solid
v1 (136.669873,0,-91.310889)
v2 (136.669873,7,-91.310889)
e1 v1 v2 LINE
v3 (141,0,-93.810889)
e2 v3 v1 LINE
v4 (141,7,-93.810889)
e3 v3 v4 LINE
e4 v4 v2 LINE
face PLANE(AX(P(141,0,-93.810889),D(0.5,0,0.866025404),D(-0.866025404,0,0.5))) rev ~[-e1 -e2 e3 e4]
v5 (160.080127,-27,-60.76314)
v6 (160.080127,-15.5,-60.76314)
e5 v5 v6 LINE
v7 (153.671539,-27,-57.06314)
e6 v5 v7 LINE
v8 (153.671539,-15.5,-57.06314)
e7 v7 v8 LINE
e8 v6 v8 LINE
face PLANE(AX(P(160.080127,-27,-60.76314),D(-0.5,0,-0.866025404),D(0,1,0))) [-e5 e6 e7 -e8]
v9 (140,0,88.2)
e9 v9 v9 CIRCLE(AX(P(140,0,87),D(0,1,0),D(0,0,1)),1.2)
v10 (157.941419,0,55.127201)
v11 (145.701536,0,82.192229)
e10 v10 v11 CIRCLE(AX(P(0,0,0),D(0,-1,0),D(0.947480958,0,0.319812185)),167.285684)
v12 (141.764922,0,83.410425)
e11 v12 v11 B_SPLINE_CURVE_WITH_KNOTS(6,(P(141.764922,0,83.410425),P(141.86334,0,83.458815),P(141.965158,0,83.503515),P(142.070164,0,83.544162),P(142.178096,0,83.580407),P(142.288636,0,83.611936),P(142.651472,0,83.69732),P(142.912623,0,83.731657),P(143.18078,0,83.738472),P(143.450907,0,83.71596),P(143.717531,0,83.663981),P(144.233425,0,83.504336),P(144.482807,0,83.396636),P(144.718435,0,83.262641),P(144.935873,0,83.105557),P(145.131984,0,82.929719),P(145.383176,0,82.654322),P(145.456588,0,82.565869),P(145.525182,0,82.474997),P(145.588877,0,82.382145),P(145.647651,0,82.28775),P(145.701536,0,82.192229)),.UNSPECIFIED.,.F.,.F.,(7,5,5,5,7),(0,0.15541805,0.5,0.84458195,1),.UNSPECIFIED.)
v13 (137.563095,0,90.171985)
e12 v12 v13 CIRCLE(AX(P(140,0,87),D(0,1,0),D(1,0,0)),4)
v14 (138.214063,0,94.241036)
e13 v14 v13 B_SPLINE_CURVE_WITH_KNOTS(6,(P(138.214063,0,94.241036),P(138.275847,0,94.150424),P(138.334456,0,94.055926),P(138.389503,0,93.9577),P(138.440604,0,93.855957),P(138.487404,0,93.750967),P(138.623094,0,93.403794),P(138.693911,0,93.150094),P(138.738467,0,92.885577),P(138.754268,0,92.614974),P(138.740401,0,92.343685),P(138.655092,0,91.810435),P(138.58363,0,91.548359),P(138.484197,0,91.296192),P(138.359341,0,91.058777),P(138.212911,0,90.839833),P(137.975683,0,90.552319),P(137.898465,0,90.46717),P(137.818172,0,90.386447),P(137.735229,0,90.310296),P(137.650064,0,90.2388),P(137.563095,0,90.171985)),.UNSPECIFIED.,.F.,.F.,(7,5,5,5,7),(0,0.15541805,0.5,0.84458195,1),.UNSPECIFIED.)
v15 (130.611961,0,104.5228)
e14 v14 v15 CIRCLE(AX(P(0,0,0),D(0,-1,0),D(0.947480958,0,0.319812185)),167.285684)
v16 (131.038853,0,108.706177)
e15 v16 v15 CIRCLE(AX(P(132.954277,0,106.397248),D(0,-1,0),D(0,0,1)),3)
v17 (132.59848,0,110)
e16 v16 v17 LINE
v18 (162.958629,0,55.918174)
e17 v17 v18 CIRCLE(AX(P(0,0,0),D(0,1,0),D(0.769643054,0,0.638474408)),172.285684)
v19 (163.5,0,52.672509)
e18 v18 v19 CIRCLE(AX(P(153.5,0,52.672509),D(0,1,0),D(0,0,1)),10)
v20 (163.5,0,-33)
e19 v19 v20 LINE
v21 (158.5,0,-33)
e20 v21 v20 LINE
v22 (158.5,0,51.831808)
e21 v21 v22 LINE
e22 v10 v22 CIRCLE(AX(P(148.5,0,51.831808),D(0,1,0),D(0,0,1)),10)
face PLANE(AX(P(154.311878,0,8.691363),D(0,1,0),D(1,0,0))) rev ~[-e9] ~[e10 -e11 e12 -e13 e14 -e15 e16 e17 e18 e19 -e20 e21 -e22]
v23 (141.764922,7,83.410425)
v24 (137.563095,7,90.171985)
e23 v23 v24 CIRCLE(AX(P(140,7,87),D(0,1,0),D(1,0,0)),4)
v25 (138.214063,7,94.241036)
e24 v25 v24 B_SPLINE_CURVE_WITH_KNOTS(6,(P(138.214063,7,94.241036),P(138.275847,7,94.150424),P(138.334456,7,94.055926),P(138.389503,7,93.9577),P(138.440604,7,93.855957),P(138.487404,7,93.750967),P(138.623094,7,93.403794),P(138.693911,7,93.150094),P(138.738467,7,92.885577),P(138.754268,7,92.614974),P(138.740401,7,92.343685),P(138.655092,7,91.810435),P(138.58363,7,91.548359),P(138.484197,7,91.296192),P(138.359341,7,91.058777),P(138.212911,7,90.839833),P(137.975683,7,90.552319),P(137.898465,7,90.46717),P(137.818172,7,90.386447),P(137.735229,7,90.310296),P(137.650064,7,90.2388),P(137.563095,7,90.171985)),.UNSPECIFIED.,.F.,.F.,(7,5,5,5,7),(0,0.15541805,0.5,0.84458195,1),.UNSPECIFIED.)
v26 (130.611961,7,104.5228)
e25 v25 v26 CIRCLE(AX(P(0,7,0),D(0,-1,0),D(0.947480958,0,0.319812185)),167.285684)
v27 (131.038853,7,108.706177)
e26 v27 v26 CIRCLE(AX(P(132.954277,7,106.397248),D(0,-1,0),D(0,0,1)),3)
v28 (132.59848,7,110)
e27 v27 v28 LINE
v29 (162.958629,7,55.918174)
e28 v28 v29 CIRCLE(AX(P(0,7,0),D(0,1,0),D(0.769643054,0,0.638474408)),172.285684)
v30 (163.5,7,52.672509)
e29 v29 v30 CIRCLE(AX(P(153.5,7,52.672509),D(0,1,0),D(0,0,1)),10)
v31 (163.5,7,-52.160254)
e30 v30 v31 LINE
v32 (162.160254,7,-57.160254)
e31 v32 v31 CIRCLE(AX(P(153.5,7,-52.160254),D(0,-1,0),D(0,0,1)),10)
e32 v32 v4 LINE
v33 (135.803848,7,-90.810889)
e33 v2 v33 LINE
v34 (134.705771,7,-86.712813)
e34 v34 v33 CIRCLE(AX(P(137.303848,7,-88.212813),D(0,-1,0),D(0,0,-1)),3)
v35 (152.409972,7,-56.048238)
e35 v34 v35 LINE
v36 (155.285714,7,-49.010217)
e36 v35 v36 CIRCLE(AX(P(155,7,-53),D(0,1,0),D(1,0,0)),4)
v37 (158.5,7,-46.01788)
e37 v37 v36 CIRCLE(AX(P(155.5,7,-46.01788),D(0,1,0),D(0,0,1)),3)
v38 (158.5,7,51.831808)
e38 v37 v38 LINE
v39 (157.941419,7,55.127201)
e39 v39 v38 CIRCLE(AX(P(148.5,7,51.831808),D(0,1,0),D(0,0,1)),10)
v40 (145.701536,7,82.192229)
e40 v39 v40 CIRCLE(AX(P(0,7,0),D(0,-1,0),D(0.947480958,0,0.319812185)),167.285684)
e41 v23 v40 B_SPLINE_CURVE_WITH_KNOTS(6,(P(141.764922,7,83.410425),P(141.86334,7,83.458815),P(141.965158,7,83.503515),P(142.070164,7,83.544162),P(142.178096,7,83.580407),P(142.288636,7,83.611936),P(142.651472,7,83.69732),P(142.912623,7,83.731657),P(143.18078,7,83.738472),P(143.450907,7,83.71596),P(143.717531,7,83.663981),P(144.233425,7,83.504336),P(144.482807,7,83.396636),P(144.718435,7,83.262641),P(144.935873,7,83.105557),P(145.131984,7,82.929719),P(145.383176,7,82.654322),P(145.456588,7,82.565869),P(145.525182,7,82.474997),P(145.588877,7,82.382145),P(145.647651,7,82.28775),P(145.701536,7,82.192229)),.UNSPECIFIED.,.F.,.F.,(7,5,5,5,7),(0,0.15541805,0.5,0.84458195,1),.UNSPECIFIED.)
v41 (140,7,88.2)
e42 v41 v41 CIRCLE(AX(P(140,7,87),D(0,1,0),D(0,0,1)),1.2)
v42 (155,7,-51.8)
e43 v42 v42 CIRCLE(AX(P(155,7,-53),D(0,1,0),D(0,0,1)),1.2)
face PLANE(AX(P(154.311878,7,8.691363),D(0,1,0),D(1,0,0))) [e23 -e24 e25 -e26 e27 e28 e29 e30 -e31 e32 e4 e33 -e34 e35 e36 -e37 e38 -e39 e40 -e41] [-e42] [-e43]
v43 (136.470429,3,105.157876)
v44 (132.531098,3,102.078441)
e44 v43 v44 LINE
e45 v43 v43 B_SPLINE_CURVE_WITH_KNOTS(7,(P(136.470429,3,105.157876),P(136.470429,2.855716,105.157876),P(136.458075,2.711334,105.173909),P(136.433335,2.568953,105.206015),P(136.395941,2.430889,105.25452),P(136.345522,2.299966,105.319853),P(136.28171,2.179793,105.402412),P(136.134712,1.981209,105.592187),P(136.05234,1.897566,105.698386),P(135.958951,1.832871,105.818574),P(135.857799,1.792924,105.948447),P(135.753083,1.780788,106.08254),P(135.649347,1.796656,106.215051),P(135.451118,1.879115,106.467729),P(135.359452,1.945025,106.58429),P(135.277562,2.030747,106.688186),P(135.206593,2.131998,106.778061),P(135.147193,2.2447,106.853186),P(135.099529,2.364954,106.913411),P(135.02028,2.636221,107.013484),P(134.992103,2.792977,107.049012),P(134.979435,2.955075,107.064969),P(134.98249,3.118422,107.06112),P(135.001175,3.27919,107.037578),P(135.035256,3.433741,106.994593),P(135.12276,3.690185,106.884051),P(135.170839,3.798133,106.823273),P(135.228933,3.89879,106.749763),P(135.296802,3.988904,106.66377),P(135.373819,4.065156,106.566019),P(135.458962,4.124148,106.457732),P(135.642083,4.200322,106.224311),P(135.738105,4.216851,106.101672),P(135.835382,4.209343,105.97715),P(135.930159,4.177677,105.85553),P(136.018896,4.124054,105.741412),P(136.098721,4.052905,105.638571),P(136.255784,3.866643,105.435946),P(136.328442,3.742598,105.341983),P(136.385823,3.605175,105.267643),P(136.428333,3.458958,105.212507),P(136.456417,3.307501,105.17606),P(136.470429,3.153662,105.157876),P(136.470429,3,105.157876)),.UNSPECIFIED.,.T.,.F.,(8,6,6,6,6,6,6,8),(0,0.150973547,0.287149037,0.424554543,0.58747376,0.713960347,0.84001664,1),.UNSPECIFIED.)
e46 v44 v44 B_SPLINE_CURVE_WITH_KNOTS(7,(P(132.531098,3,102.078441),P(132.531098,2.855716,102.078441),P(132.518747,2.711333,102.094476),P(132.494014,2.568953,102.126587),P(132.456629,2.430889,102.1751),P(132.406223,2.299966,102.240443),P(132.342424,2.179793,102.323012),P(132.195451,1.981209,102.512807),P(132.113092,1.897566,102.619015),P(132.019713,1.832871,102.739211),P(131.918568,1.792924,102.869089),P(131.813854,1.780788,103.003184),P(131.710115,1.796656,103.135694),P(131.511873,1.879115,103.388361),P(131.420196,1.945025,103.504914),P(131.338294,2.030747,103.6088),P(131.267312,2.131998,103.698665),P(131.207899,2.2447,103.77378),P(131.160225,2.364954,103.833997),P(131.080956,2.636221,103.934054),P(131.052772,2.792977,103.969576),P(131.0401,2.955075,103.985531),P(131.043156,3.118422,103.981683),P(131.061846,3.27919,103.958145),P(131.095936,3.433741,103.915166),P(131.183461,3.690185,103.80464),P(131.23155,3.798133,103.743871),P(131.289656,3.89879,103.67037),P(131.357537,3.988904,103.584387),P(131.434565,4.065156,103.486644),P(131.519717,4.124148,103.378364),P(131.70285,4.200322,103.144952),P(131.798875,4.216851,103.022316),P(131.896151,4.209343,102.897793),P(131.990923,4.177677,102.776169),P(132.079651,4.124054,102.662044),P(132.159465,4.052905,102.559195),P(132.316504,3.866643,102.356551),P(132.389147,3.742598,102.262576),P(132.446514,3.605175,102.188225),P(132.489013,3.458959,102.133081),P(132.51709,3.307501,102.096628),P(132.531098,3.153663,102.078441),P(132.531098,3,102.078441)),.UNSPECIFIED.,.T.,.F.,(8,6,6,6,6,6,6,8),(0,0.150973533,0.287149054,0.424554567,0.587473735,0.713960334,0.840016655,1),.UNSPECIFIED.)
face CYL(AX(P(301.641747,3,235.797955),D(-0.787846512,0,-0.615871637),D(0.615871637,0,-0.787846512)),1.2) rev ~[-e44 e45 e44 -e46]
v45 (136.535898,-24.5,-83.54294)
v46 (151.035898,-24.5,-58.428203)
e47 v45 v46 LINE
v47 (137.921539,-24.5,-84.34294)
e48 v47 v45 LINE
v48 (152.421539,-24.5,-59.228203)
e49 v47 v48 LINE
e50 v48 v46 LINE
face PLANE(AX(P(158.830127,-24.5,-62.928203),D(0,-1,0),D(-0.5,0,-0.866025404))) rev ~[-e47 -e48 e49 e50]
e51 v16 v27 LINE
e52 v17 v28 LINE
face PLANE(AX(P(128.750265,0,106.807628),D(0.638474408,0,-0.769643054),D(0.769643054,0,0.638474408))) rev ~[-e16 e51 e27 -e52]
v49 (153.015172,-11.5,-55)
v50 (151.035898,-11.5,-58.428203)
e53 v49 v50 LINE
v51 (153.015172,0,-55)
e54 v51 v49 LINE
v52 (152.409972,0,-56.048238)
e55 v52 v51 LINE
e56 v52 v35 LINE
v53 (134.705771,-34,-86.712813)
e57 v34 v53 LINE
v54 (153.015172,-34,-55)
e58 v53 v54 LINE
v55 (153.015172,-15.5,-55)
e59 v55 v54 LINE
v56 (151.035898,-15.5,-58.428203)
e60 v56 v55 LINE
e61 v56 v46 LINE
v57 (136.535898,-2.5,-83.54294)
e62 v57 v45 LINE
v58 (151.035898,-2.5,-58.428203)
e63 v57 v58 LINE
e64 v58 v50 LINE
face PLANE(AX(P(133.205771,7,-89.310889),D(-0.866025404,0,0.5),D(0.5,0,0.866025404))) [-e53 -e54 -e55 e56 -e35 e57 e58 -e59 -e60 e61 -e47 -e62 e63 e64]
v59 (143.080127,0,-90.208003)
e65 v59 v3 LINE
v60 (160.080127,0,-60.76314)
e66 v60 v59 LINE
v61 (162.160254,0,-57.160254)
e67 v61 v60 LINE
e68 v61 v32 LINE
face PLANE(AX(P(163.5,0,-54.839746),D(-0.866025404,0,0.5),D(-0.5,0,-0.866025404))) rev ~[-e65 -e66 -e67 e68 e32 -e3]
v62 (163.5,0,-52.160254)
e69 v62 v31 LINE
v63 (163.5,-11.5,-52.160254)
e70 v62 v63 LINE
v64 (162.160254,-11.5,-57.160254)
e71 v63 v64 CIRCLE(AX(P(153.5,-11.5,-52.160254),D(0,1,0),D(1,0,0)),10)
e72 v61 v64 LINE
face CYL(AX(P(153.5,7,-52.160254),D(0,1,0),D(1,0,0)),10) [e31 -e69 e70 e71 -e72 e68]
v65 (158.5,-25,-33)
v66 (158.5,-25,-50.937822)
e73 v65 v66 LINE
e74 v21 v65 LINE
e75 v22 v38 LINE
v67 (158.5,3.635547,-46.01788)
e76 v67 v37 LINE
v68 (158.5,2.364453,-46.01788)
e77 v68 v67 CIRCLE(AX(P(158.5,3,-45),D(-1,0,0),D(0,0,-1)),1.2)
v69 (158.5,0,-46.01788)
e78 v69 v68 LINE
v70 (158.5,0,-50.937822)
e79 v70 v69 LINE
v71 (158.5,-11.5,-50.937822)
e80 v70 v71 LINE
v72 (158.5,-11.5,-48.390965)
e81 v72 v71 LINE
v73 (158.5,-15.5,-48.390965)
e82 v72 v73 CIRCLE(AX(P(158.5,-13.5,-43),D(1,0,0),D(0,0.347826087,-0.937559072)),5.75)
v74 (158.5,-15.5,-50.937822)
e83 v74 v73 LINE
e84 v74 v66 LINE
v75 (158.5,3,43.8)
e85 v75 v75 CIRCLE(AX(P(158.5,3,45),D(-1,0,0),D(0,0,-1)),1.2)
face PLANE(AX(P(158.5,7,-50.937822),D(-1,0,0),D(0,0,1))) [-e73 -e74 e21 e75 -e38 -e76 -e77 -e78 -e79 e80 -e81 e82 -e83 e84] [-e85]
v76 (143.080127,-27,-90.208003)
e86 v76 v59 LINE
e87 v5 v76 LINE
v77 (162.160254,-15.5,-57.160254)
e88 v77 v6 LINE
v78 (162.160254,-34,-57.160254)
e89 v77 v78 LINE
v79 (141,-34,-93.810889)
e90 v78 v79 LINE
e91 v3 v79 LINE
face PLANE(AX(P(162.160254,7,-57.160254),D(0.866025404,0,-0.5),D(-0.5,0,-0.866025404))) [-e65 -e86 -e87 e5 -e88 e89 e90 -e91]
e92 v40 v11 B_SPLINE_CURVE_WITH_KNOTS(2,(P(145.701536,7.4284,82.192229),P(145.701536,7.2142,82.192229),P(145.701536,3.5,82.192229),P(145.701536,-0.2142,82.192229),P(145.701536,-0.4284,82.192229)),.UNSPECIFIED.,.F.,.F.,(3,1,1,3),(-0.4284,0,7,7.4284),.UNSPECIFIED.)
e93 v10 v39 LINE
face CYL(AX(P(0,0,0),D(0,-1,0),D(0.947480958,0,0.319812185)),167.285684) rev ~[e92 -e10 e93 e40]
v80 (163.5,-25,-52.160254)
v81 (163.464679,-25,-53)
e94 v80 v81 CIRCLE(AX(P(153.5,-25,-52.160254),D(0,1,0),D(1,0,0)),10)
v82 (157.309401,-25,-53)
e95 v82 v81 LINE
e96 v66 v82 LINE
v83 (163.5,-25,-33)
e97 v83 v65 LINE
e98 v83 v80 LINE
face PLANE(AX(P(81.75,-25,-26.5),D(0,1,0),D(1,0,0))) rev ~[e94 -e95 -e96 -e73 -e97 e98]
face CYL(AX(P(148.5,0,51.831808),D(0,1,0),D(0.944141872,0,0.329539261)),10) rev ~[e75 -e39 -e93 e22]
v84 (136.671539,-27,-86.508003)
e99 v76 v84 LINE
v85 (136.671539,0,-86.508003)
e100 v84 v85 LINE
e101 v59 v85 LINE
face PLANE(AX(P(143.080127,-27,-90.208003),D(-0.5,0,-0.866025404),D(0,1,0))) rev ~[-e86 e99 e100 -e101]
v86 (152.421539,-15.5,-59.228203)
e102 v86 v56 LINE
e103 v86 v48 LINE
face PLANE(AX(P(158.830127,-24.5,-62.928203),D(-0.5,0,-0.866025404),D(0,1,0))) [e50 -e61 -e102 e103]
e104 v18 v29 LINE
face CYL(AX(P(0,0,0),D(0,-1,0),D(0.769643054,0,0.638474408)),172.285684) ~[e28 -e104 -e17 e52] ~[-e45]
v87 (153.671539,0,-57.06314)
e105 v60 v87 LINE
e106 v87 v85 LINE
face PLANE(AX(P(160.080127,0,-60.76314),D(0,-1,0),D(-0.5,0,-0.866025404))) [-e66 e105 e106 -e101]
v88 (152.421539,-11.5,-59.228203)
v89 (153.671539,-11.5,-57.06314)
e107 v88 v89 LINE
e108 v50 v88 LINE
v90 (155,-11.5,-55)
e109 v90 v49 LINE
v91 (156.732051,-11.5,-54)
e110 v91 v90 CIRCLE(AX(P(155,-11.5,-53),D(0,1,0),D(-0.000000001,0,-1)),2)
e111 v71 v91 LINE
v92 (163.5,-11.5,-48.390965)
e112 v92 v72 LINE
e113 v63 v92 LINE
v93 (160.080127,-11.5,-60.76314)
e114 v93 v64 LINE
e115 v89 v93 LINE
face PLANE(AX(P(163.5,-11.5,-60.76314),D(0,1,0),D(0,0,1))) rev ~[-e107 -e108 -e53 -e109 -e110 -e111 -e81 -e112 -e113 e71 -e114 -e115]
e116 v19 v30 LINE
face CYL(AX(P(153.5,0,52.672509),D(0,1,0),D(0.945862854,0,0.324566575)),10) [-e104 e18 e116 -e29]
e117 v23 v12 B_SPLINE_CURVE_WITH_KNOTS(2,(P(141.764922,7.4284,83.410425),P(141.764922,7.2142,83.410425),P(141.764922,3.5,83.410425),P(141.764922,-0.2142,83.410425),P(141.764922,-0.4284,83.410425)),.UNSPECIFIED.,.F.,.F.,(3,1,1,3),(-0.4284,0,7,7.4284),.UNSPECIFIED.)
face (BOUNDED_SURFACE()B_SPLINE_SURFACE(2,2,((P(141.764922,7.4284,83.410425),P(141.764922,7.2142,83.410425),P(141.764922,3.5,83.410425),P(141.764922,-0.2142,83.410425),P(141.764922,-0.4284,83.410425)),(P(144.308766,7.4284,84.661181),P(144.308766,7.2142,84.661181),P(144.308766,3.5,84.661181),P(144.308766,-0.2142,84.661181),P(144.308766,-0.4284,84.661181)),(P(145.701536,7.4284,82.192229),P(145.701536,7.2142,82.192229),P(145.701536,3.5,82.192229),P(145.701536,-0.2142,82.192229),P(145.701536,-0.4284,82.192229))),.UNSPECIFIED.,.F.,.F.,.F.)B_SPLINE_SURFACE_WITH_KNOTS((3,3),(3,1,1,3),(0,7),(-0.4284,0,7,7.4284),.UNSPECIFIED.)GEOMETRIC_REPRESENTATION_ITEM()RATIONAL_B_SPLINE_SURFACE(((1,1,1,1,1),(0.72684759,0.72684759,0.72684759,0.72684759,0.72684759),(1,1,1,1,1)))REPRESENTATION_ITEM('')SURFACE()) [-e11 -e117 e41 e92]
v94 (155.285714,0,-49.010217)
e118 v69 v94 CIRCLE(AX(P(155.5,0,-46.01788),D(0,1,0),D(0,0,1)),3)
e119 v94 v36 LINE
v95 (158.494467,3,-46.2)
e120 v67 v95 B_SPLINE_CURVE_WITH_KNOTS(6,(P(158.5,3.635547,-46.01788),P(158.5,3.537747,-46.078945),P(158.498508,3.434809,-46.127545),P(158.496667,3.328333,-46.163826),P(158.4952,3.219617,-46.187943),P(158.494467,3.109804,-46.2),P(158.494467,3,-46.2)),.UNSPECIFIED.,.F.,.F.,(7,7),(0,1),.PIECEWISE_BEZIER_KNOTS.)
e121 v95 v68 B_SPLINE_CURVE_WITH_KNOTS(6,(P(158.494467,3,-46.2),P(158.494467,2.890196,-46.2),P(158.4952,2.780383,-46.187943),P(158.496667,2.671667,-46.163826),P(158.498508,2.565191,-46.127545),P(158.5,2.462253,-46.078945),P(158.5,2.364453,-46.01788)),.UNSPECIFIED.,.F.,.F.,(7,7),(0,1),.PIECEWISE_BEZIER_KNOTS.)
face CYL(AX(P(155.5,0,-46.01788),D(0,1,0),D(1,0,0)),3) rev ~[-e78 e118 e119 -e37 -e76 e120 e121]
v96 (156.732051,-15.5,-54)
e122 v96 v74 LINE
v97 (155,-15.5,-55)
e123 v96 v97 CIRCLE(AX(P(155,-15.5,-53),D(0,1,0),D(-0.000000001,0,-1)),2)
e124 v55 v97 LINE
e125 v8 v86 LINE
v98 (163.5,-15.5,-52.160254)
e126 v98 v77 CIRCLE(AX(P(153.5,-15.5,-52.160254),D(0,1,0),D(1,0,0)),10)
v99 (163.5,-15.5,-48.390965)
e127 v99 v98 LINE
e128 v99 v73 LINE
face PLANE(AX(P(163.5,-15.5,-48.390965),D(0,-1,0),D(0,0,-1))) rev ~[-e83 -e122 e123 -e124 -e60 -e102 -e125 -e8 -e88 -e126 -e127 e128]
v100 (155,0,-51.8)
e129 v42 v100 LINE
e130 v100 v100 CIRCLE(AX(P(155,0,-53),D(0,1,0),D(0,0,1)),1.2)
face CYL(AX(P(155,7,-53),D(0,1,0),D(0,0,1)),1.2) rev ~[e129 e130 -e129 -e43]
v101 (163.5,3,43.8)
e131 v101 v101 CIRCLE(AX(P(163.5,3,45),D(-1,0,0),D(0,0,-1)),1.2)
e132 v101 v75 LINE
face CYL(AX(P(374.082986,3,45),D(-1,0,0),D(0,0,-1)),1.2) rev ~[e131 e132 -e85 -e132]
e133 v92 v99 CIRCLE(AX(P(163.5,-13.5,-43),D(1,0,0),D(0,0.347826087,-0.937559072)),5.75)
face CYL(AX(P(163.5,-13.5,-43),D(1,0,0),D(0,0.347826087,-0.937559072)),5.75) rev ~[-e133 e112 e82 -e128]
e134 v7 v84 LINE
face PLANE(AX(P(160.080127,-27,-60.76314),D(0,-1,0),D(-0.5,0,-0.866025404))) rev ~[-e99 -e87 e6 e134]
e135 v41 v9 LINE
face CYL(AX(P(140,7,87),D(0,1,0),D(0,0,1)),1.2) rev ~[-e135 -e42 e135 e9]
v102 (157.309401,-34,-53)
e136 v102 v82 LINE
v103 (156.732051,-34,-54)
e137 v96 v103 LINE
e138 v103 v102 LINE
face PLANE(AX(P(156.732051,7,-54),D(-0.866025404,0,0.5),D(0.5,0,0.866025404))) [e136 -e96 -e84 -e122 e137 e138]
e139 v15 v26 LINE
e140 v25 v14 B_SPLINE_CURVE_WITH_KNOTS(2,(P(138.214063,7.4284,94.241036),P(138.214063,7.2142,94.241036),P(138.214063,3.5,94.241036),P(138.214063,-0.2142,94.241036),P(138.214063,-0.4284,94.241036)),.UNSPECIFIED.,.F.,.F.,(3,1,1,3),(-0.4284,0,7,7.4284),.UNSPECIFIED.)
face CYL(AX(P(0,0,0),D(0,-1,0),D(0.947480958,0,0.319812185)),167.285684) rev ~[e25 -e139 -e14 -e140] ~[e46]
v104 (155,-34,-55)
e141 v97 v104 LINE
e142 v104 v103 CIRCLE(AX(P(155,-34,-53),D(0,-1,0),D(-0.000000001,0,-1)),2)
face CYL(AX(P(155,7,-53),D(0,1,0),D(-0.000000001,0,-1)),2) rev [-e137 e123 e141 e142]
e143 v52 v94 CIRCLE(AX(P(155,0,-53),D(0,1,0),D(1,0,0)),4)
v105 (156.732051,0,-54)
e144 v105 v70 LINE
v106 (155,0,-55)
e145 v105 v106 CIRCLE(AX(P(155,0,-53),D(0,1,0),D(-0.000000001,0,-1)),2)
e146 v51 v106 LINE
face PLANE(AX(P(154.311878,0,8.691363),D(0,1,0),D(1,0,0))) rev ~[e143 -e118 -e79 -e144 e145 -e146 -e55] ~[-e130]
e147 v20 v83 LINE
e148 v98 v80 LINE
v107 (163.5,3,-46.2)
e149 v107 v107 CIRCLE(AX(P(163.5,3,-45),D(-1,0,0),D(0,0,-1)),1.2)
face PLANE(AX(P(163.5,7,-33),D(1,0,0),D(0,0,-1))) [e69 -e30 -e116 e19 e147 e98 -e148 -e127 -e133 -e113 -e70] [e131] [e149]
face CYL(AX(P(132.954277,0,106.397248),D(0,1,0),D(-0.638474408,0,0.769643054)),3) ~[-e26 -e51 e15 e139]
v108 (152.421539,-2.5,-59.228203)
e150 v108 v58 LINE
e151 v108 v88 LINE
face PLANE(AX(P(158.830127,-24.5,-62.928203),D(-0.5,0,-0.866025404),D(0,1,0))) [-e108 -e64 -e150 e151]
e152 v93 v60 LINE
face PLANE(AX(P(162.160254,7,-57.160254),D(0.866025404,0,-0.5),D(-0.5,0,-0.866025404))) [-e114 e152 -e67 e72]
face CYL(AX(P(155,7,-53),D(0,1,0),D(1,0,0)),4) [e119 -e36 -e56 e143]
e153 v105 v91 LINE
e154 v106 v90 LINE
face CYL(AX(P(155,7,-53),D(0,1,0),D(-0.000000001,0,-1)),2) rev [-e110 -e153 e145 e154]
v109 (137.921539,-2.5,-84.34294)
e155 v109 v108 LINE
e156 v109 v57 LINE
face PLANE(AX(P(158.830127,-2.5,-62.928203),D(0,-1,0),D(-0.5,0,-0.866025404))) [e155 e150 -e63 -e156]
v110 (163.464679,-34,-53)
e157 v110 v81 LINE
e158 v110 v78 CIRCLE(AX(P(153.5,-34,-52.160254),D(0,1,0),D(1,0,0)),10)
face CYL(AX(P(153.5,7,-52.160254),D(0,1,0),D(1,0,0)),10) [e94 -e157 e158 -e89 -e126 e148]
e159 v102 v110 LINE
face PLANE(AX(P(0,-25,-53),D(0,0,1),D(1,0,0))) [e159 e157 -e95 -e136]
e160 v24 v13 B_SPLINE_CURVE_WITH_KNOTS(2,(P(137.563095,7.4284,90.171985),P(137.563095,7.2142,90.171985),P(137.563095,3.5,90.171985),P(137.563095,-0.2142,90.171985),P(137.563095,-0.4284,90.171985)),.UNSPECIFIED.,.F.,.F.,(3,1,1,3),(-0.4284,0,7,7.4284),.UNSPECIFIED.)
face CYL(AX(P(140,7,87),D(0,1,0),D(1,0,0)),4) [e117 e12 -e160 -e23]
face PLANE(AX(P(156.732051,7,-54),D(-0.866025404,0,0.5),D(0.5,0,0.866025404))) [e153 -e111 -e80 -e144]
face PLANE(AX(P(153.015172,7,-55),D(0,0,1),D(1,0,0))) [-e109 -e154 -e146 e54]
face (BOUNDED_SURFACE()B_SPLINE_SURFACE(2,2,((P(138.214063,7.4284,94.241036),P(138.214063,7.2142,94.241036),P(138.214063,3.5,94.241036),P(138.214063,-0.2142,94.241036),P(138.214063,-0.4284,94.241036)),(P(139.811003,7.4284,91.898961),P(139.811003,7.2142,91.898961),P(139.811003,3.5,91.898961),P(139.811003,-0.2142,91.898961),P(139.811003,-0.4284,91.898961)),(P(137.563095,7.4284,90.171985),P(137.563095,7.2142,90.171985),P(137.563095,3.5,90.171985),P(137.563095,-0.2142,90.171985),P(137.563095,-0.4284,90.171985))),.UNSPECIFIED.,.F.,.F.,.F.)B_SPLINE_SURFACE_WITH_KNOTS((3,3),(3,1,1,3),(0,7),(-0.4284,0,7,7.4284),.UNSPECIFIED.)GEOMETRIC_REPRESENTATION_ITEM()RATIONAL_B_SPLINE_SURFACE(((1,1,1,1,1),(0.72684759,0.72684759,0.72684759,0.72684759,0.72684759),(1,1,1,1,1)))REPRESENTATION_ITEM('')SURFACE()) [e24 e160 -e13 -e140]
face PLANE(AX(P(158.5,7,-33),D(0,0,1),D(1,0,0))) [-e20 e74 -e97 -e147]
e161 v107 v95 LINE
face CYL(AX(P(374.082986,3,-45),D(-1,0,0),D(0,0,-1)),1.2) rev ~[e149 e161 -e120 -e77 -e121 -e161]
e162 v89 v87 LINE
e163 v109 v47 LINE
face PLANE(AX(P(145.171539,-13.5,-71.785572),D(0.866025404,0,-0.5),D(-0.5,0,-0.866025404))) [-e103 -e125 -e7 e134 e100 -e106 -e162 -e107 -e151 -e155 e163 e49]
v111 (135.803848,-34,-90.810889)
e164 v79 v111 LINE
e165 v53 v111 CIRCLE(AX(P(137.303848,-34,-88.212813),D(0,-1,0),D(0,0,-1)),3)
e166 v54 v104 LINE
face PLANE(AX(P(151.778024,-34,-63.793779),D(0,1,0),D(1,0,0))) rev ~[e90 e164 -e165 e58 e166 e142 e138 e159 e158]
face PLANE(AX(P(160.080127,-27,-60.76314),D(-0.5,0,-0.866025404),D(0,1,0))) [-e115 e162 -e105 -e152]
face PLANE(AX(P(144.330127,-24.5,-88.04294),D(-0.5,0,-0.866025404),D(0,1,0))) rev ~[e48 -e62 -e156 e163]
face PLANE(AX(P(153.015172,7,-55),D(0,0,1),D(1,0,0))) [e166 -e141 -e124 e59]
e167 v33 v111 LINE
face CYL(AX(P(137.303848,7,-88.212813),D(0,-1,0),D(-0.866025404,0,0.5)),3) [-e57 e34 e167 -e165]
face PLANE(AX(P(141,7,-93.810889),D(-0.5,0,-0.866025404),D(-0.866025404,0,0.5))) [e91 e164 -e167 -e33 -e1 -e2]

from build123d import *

# Parameters (mm, degrees)
BOSS_EXTRU_1_DEPTH                      = 7
ESQUISSE2_R                             = 4
ESQUISSE2_R_2                           = 1.2
BOSS_EXTRU_2_DEPTH                      = 7
CONG_1_R                                = 10
CONG_2_R                                = 3
BOSS_EXTRU_3_DEPTH                      = 41
ESQUISSE5_W                             = 29
ESQUISSE5_H                             = 22
ENL_V_MAT_EXTRU_1_DEPTH                 = 199.198296894
ESQUISSE7_W                             = 34
ESQUISSE7_H                             = 27
ENL_V_MAT_EXTRU_2_DEPTH                 = 7.4
ENL_V_START                             = -32
ESQUISSE8_W                             = 163.5
ESQUISSE8_H                             = 53
ENL_V_MAT_EXTRU_3_DEPTH                 = 170.279035308
ENL_V_MAT_EXTRU_4_DEPTH                 = 120.922123014
CONG_3_R                                = 3
DIAM_TRE_DU_PER_AGE_2_4_2_4_1_D         = 2.4
DIAM_TRE_DU_PER_AGE_2_4_2_4_1_ON_FACE_D = 2.4


with BuildPart() as part:
    # Esquisse1 → Boss.-Extru.1 (new body)
    with BuildSketch(Plane(origin=(0, 0, 0), x_dir=(1, 0, 0), z_dir=(0, 1, 0))):
        with BuildLine():
            Line((163.5, -54.314885969), (163.5, 54.839745962))
            Line((163.5, 54.839745962), (141, 93.810889132))
            Line((141, 93.810889132), (136.669872981, 91.310889132))
            Line((136.669872981, 91.310889132), (158.5, 53.5))
            Line((158.5, 53.5), (158.5, -53.5))
            ThreePointArc((158.5, -53.5), (146.077391865, -81.52236249), (128.750264504, -106.807627959))
            Line((128.750264504, -106.807627959), (132.598479772, -110))
            ThreePointArc((132.598479772, -110), (150.644566487, -83.59767596), (163.5, -54.314885969))
        make_face()
    extrude(amount=BOSS_EXTRU_1_DEPTH)

    # Esquisse2 → Boss.-Extru.2 (add)
    # profile 1 of 2: a face of its own
    with BuildSketch(Plane(origin=(0, 7, 0), x_dir=(1, 0, 0), z_dir=(0, 1, 0))):
        with Locations((155, 53)):
            Circle(ESQUISSE2_R)
        with Locations(Location((155, 53, 0), (0, 0, 270))):
            Circle(ESQUISSE2_R_2, mode=Mode.SUBTRACT)
    # profile 2 of 2: a face of its own
    with BuildSketch(Plane(origin=(0, 7, 0), x_dir=(1, 0, 0), z_dir=(0, 1, 0))):
        with Locations((140, -87)):
            Circle(ESQUISSE2_R)
        with Locations(Location((140, -87, 0), (0, 0, 270))):
            Circle(ESQUISSE2_R_2, mode=Mode.SUBTRACT)
    extrude(amount=-BOSS_EXTRU_2_DEPTH)

    # Congé1
    cong_1_edges = [part.edges().sort_by_distance(p)[0] for p in [
        (158.5, 3.5, 53.5),
        (163.5, 3.5, -54.839745962),
        (163.5, 3.5, 54.314885969),
    ]]
    fillet(cong_1_edges, radius=CONG_1_R)

    # Congé2
    cong_2_edges = [part.edges().sort_by_distance(p)[0] for p in [
        (128.750264504, 3.5, 106.807627959),
        (156.697559724, 3.5, -56.621918136),
        (158.5, 3.5, -51.063508327),
        (140.380940937, 3.5, 90.981819183),
        (143.738827918, 3.5, 85.578322891),
    ]]
    fillet(cong_2_edges, radius=CONG_2_R)

    # Esquisse4 → Boss.-Extru.3 (add)
    with BuildSketch(Plane(origin=(0, 7, 0), x_dir=(1, 0, 0), z_dir=(0, 1, 0))):
        with BuildLine():
            Line((162.160254038, 57.160254038), (141, 93.810889132))
            Line((141, 93.810889132), (133.205771366, 89.310889132))
            Line((133.205771366, 89.310889132), (153.015172443, 55))
            Line((153.015172443, 55), (155, 55))
            ThreePointArc((155, 55), (156, 54.732050808), (156.732050808, 54))
            Line((156.732050808, 54), (158.5, 50.937822174))
            Line((158.5, 50.937822174), (158.5, 33))
            Line((158.5, 33), (163.5, 33))
            Line((163.5, 33), (163.5, 52.160254038))
            ThreePointArc((163.5, 52.160254038), (163.159258263, 54.748444489), (162.160254038, 57.160254038))
        make_face()
    extrude(amount=-BOSS_EXTRU_3_DEPTH)

    # Esquisse5 → Enlèv. mat.-Extru.1 (cut, through all)
    with BuildSketch(Plane(origin=(146.37130657, 0, -84.50751325), x_dir=(-0.4999999999999999, 0, -0.8660254037844387), z_dir=(0.8660254037844387, 0, -0.4999999999999999))):
        with Locations((-10.417640898, -13.5)):
            Rectangle(ESQUISSE5_W, ESQUISSE5_H)
    extrude(amount=-ENL_V_MAT_EXTRU_1_DEPTH, mode=Mode.SUBTRACT)

    # Esquisse7 → Enlèv. mat.-Extru.2 (cut)
    with BuildSketch(Plane(origin=(146.37130657, 0, -84.50751325), x_dir=(-0.4999999999999999, 0, -0.8660254037844387), z_dir=(0.8660254037844387, 0, -0.4999999999999999))):
        with Locations((-10.417640898, -13.5)):
            Rectangle(ESQUISSE7_W, ESQUISSE7_H)
    extrude(amount=-ENL_V_MAT_EXTRU_2_DEPTH, mode=Mode.SUBTRACT)

    # Esquisse8 → Enlèv. mat.-Extru.3 (cut, through all)
    with BuildSketch(Plane(origin=(0, 7, 0), x_dir=(1, 0, 0), z_dir=(0, 1, 0)).offset(ENL_V_START)):
        with Locations((81.75, 26.5)):
            Rectangle(ESQUISSE8_W, ESQUISSE8_H)
    extrude(amount=-ENL_V_MAT_EXTRU_3_DEPTH, mode=Mode.SUBTRACT)

    # Esquisse9 → Enlèv. mat.-Extru.4 (cut, through all)
    with BuildSketch(Plane(origin=(163.5, 0, 0), x_dir=(0, 0, -1), z_dir=(1, 0, 0))):
        with BuildLine():
            Line((60.763139721, -11.5), (48.390964663, -11.5))
            ThreePointArc((48.390964663, -11.5), (37.25, -13.5), (48.390964663, -15.5))
            Line((48.390964663, -15.5), (60.763139721, -15.5))
            Line((60.763139721, -15.5), (60.763139721, -11.5))
        make_face()
    extrude(amount=-ENL_V_MAT_EXTRU_4_DEPTH, mode=Mode.SUBTRACT)

    # Congé3
    cong_3_edges = [part.edges().sort_by_distance(p)[0] for p in [
        (133.205771366, -13.5, -89.310889132),
    ]]
    fillet(cong_3_edges, radius=CONG_3_R)

    # Diamètre du perçage Ø2.4 (2.4)1 (through all)
    with Locations(Plane(origin=(135.734675085, 3, 106.105866084), x_dir=(-0.615871636874, 0, 0.787846512269), z_dir=(0.787846512269, 0, 0.615871636874))):
        with Locations((0, 0)):
            Hole(DIAM_TRE_DU_PER_AGE_2_4_2_4_1_D / 2)

    # Diamètre du perçage Ø2.4 (2.4)1 on face (through all)
    with Locations(Plane(origin=(163.5, 3, -45), x_dir=(0, 0, 1), z_dir=(1, 0, 0))):
        with Locations((0, 0), (90, 0)):
            Hole(DIAM_TRE_DU_PER_AGE_2_4_2_4_1_ON_FACE_D / 2)


solid = part.part
